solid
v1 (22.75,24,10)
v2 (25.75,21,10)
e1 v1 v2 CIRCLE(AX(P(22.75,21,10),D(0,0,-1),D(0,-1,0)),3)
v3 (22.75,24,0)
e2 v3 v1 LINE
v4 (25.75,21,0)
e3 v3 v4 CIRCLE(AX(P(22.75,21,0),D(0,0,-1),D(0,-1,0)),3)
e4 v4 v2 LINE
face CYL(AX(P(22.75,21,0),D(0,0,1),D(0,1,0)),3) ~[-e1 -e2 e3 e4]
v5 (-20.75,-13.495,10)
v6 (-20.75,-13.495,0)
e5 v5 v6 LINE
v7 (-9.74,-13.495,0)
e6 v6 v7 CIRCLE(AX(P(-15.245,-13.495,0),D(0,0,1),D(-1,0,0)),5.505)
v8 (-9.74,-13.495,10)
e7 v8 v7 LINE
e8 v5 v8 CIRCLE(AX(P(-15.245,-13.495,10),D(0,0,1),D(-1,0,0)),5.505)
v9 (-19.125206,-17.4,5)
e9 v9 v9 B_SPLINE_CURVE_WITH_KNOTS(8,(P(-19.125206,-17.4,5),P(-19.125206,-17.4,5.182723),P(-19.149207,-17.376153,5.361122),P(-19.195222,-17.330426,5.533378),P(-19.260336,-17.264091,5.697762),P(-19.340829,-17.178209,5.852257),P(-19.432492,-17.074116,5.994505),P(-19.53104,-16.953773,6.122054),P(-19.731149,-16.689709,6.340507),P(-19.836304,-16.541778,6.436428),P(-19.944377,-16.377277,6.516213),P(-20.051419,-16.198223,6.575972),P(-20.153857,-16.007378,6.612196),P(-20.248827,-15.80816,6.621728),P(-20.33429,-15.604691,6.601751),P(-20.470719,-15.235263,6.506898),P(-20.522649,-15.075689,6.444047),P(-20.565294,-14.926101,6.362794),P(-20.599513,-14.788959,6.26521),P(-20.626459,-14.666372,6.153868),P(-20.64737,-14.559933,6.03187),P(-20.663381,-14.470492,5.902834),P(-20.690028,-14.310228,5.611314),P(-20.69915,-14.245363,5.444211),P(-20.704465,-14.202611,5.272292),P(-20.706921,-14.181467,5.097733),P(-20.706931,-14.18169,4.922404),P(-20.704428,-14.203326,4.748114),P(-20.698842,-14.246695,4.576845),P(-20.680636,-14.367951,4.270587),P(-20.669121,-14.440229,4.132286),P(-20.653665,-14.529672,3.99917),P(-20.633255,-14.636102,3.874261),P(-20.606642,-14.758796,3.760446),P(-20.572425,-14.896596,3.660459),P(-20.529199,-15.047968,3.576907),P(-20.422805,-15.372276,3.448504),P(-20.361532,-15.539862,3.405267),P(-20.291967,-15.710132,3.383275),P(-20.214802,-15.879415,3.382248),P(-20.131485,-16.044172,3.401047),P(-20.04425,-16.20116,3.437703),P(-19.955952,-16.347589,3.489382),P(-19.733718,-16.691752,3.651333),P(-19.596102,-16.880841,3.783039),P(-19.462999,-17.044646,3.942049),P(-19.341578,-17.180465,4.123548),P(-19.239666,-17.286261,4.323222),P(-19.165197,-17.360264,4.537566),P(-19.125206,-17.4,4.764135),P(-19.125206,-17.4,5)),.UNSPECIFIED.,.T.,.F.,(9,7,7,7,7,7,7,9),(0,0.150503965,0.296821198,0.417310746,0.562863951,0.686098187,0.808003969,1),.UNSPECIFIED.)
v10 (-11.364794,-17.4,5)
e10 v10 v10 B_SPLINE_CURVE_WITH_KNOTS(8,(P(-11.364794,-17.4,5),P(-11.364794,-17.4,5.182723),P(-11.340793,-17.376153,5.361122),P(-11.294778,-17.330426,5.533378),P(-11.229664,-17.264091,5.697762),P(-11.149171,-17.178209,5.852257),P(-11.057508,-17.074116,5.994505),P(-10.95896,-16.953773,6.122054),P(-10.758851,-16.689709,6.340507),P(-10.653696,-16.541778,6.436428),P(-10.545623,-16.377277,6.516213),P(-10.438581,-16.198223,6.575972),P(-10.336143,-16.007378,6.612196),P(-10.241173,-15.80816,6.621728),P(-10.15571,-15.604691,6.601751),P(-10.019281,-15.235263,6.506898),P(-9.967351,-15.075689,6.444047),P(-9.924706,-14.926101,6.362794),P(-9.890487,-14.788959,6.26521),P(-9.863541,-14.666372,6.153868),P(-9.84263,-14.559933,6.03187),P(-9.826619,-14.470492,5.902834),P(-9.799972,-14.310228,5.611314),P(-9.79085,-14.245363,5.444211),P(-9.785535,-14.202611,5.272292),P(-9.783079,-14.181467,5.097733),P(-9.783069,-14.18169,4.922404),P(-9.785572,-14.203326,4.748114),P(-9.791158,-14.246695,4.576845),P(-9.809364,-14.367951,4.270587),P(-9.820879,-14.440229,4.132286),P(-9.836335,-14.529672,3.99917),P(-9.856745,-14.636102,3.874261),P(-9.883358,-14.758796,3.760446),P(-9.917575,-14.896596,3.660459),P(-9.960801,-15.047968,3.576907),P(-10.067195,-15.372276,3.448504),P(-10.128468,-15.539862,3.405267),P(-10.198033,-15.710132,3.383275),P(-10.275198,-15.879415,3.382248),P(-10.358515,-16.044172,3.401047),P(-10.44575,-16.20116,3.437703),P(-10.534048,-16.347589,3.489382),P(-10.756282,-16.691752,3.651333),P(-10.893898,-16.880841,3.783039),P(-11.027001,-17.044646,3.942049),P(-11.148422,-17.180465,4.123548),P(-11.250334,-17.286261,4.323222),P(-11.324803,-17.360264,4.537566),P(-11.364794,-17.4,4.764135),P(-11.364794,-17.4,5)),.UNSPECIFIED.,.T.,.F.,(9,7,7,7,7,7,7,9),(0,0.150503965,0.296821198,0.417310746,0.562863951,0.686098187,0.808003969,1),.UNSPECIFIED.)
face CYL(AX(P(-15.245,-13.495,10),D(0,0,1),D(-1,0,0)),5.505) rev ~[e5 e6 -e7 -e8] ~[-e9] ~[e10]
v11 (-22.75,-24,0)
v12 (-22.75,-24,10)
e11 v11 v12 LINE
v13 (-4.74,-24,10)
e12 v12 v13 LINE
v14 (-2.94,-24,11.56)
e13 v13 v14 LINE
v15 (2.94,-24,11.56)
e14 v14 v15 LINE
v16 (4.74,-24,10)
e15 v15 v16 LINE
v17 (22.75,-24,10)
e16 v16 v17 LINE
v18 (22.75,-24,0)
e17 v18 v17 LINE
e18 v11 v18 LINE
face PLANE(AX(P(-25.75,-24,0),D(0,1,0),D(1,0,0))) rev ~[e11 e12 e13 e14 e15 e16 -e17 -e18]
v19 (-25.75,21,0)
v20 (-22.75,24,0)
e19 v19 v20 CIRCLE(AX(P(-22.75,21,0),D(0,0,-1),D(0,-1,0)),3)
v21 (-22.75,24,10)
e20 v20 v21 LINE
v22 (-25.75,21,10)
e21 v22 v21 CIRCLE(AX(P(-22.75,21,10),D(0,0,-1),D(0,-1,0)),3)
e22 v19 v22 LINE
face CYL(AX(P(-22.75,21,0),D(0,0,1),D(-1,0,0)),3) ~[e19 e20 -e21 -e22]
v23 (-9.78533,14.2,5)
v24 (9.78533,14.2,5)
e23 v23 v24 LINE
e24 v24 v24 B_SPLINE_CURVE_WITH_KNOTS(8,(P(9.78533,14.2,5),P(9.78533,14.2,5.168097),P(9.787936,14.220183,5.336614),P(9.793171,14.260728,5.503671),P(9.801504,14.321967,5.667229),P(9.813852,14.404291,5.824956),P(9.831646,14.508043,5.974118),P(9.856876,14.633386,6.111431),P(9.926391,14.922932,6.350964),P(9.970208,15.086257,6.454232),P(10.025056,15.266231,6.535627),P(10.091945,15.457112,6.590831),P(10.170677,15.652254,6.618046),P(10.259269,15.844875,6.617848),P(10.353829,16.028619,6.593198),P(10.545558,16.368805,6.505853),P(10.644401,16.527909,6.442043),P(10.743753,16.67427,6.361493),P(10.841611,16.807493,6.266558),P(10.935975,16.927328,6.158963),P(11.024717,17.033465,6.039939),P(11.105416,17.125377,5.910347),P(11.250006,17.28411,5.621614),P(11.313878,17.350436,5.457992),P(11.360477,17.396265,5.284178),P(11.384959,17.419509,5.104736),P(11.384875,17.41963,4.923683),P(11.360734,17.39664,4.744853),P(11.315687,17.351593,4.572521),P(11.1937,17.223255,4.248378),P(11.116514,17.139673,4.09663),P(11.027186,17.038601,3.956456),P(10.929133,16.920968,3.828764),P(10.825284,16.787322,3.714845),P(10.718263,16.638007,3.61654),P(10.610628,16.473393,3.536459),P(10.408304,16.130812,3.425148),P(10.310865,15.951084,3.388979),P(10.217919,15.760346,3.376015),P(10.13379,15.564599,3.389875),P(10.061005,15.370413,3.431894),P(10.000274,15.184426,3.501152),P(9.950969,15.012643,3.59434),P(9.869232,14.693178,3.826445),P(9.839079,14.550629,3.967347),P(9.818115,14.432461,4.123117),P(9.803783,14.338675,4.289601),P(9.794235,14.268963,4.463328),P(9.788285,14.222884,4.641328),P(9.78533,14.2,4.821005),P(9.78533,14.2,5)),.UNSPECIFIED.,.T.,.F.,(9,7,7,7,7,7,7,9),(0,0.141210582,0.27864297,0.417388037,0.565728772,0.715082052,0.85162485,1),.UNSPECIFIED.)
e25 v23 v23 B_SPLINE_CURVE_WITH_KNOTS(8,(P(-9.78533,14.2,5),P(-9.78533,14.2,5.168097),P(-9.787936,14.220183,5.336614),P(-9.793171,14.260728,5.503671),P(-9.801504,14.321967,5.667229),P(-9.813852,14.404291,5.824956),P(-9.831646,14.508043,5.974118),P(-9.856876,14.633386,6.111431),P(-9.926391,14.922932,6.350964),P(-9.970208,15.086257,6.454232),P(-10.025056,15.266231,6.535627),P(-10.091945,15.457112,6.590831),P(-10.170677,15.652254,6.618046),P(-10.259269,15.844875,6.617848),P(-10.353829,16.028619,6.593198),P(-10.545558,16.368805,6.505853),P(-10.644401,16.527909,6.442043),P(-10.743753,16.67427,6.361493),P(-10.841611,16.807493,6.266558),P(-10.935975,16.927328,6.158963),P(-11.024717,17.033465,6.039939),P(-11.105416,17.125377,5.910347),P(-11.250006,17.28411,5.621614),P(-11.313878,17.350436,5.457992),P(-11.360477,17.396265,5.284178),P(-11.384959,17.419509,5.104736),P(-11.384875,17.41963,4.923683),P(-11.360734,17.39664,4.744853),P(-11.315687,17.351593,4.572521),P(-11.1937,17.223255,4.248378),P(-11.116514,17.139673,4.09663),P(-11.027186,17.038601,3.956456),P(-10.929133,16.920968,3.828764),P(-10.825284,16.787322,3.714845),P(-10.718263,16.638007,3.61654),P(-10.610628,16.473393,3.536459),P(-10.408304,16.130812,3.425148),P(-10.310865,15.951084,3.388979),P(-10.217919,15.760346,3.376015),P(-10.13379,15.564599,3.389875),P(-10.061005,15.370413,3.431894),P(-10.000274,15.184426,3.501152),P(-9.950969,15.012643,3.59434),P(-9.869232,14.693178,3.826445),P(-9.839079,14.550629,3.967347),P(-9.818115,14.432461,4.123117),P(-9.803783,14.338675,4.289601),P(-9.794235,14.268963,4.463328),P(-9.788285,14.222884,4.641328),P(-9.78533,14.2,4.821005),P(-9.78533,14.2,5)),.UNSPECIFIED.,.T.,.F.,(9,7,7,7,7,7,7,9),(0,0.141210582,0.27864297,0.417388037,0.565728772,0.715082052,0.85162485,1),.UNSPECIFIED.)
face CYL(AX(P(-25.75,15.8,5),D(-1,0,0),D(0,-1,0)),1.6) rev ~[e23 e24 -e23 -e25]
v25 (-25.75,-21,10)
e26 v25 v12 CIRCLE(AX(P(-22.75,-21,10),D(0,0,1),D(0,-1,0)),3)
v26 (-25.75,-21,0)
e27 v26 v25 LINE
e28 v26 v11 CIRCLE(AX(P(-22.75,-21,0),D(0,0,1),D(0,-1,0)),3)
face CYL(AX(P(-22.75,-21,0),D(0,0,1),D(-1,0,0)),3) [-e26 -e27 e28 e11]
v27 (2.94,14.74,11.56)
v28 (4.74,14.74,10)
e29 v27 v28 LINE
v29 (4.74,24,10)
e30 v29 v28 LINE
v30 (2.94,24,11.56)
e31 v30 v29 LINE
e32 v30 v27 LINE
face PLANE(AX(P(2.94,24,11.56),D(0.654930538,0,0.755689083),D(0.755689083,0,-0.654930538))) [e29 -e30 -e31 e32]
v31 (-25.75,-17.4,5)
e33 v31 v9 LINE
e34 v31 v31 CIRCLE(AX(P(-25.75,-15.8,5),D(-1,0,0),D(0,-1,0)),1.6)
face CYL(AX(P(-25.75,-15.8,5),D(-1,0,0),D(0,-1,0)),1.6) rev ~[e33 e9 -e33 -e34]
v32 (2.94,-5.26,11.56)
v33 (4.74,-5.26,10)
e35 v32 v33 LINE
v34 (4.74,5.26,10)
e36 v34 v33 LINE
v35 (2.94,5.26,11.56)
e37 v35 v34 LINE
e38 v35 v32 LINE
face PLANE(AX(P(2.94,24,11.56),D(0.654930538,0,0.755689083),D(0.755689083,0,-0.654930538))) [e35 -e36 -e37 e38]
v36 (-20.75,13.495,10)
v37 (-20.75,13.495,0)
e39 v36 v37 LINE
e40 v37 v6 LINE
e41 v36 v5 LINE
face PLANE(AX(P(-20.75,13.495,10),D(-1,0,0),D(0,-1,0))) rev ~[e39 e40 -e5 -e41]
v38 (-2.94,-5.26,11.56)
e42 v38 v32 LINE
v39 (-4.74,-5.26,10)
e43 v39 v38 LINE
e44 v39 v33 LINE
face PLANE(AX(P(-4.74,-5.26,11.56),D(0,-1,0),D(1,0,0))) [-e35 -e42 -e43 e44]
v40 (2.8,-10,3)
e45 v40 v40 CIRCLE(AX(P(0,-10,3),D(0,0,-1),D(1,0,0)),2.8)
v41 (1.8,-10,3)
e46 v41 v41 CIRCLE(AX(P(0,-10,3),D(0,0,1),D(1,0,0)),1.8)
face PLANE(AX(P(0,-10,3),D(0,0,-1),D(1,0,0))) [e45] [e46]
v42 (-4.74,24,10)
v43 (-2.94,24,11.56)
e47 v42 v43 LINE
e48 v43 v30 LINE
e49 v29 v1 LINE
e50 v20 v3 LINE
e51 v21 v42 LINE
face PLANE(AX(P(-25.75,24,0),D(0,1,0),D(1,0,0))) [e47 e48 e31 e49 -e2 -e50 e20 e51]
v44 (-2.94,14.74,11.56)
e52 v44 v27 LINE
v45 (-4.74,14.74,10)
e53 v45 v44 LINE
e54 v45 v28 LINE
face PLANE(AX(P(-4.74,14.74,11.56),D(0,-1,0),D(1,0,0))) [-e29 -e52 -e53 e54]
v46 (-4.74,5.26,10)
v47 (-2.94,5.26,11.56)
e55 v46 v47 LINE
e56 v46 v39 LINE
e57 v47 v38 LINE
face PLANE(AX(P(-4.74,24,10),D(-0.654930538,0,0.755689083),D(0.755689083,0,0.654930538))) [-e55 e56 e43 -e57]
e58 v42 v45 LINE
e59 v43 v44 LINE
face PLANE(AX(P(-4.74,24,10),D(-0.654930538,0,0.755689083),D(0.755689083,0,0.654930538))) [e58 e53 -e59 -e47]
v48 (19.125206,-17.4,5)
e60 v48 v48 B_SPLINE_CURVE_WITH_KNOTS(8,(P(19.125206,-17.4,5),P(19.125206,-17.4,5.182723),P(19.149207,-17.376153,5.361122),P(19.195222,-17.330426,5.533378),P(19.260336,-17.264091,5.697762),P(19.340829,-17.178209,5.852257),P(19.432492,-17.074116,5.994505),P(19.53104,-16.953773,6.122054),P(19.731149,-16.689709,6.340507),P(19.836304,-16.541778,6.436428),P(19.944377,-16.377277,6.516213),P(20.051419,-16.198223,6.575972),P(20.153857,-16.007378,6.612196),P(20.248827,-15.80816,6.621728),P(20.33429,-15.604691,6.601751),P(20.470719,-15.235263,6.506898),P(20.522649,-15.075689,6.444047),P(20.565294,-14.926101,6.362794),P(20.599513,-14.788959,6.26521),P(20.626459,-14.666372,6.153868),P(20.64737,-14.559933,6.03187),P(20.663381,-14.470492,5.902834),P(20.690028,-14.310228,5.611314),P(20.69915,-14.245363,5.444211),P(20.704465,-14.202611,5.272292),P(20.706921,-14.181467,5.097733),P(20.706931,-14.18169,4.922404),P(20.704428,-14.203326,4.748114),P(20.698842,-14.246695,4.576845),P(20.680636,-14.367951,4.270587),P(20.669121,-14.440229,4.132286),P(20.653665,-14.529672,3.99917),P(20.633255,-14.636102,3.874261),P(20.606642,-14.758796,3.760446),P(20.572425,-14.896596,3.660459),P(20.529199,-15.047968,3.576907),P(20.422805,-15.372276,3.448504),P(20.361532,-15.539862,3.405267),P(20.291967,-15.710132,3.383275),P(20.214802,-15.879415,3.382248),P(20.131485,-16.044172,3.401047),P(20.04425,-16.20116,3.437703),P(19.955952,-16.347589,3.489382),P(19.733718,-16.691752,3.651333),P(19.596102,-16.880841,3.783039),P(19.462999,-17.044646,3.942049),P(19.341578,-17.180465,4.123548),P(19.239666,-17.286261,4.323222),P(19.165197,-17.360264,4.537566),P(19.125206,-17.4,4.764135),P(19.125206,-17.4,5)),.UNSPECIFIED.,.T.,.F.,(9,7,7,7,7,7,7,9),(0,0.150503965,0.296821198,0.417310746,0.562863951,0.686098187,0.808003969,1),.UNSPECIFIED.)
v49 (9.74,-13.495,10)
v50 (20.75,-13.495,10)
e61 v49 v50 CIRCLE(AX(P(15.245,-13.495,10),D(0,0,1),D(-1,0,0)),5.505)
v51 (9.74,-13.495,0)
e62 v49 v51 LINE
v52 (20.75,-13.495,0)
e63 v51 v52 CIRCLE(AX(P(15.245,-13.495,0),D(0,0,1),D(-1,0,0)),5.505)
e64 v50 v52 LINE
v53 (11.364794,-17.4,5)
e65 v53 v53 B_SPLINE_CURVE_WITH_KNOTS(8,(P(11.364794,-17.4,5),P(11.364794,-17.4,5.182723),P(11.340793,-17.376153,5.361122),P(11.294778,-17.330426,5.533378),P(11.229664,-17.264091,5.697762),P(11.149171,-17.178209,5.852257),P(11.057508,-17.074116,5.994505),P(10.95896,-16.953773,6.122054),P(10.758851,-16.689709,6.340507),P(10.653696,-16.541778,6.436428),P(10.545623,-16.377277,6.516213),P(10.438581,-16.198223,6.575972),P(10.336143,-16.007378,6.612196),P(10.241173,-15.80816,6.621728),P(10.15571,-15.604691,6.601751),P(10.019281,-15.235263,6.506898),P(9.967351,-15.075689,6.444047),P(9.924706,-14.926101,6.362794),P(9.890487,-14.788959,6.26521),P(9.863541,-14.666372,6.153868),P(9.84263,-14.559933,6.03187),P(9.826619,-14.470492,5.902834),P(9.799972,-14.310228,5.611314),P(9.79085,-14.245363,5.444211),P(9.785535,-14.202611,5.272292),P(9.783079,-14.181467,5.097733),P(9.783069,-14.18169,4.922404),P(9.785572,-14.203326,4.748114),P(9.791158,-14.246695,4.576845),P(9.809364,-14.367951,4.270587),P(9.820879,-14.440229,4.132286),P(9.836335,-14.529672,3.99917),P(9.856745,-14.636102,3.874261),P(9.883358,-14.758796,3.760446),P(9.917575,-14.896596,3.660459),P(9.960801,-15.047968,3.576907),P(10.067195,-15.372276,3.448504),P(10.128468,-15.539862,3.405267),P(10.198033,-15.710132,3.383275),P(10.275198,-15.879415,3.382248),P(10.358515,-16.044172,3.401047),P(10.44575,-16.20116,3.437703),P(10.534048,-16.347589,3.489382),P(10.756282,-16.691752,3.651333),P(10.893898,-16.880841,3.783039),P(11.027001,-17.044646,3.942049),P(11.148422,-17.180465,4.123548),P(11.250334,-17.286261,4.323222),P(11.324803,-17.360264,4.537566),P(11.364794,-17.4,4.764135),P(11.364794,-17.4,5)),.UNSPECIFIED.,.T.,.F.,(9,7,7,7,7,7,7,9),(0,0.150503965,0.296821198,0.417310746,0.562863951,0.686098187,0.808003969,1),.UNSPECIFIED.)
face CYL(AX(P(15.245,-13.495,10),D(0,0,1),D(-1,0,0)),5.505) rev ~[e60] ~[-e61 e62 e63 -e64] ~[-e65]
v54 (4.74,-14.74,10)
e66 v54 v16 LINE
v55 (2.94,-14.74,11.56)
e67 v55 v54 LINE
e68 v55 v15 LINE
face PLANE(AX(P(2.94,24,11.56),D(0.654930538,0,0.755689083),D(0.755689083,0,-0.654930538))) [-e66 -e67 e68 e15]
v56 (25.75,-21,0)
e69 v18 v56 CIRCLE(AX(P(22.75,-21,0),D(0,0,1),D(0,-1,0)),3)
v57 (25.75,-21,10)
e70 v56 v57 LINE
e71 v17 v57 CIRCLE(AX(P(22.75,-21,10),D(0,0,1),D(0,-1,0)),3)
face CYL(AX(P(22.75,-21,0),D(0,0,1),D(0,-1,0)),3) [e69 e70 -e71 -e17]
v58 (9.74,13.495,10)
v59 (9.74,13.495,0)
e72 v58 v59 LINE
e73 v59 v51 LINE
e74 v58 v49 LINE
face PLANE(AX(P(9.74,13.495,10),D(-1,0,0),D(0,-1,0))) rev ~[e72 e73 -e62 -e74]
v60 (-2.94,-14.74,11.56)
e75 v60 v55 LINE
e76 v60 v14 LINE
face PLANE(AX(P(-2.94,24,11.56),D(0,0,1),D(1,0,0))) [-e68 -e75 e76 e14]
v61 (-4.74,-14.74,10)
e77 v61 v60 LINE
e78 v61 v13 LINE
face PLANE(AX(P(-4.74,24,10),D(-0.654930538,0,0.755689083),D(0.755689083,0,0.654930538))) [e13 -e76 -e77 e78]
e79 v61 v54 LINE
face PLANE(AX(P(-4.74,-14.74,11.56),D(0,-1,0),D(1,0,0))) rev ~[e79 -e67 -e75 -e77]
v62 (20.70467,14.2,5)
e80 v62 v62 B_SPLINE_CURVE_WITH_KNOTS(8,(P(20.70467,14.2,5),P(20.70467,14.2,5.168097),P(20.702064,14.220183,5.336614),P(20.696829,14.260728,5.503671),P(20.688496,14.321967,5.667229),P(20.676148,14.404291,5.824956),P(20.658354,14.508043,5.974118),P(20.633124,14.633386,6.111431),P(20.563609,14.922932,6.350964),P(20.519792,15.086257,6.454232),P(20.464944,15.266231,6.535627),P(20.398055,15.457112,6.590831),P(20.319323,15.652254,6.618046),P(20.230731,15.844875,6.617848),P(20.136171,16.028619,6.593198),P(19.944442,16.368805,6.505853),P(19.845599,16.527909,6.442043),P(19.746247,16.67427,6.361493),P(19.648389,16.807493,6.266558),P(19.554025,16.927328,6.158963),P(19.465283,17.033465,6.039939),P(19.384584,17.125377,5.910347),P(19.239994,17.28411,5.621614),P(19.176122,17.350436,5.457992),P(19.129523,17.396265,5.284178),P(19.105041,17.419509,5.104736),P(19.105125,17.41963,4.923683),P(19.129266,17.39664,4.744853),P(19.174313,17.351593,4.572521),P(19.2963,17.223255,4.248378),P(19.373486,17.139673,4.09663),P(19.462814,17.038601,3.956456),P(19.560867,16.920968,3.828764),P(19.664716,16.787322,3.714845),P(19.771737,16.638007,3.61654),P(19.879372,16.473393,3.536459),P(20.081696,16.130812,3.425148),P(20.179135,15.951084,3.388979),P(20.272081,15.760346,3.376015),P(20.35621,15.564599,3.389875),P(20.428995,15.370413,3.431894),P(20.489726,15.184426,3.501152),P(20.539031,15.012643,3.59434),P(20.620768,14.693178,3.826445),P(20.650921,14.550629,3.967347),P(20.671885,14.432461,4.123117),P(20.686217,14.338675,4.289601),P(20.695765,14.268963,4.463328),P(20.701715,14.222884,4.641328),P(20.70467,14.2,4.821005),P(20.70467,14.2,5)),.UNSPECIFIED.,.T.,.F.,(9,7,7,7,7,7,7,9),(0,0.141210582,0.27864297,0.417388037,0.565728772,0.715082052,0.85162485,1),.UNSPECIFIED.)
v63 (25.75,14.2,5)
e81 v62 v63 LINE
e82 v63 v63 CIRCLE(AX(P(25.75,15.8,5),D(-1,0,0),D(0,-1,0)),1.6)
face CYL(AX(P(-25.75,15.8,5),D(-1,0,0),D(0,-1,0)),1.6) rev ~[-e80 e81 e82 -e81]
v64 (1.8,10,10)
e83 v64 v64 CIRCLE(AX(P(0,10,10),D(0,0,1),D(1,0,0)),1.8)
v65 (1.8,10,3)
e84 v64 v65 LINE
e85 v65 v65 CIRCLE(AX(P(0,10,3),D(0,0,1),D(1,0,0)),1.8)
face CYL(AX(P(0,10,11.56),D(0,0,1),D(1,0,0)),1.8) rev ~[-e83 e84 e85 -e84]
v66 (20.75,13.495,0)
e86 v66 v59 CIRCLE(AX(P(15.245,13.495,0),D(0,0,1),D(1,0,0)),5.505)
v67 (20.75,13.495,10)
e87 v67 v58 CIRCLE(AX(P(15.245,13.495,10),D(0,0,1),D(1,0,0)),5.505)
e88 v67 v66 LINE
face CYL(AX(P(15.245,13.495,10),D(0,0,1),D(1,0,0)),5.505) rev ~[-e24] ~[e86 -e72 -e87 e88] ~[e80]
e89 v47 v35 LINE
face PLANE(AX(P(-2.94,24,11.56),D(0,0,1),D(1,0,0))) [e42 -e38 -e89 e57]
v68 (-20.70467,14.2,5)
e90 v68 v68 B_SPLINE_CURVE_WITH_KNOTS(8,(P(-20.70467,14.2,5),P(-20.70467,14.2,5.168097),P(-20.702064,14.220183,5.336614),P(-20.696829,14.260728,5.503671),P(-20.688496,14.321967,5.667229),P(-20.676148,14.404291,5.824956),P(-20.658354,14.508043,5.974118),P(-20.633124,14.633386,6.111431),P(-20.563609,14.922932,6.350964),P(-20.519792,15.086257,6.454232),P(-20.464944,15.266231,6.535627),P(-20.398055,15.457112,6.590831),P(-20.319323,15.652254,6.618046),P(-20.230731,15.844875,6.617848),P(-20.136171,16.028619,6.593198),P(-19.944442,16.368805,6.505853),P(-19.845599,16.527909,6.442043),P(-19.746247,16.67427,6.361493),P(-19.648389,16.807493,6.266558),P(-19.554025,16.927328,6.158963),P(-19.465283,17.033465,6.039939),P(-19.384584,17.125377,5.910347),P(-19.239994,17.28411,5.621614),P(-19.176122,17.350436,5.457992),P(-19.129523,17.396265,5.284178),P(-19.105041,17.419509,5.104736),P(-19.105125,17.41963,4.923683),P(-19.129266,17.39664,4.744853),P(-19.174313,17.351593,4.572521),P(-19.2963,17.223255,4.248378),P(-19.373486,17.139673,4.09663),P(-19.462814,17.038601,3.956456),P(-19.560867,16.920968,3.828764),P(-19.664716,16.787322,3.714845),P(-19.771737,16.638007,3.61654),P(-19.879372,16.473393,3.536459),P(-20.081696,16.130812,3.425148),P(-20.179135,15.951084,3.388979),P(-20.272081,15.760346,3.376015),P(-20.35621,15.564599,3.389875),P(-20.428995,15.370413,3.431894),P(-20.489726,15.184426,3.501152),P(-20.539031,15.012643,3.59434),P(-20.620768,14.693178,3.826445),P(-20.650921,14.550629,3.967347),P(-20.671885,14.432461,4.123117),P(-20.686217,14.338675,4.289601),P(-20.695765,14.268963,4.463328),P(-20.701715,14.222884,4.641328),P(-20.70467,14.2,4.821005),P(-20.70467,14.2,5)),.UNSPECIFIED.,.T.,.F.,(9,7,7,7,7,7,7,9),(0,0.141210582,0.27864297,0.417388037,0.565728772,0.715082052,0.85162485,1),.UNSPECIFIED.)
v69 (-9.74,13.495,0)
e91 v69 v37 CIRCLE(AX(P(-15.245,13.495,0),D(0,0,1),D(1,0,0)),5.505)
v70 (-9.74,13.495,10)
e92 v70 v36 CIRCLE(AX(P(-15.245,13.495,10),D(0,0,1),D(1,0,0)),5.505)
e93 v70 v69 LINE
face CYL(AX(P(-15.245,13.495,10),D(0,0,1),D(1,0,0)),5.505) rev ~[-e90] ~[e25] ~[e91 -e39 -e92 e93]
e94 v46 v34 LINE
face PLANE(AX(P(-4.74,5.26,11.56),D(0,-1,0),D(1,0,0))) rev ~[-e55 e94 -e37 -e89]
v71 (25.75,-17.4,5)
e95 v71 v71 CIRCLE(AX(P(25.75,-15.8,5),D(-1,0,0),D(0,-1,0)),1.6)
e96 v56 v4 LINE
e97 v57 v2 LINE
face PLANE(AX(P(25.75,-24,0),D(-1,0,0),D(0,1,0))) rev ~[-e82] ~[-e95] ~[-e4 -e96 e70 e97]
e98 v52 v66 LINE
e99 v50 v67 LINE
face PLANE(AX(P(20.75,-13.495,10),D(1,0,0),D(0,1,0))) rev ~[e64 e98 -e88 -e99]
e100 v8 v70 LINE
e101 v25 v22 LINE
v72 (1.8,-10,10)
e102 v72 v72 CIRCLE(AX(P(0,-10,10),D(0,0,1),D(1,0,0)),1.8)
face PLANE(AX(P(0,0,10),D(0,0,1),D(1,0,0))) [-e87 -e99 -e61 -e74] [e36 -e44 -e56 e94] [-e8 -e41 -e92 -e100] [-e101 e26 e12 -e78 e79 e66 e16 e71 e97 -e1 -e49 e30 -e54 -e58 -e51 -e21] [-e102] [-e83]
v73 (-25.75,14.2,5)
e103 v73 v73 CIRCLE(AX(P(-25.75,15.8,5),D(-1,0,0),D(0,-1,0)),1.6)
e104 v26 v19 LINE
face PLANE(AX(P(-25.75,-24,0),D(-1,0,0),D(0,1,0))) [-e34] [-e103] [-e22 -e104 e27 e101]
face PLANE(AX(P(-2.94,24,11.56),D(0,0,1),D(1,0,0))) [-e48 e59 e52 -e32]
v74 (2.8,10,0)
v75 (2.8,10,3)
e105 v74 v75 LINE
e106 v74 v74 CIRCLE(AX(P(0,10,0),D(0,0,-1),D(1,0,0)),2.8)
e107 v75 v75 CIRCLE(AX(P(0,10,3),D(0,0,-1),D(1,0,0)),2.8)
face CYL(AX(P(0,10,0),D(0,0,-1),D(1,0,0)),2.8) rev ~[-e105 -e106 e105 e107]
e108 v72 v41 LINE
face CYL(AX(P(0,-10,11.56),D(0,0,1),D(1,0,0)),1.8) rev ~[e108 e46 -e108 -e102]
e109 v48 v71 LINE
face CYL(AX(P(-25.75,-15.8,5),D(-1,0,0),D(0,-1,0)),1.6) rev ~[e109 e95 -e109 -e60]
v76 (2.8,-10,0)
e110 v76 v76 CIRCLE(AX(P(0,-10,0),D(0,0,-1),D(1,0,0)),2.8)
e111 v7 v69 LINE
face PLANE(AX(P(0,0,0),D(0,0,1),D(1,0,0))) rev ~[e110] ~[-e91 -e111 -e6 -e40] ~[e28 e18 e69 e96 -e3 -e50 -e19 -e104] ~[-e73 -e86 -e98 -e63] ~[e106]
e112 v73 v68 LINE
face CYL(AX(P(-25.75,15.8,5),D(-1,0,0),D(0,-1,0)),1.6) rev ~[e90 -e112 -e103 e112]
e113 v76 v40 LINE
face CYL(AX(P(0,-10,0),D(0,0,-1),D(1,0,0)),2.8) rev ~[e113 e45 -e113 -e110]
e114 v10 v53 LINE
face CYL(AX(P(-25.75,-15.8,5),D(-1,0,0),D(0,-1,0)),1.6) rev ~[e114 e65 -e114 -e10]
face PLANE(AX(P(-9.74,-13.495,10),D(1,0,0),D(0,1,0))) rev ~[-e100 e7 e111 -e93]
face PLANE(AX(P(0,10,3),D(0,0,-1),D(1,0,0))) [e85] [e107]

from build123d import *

# Parameters (mm, degrees)
SKETCH_W        = 51.5
SKETCH_H        = 48
PAD_DEPTH       = 10
SKETCH001_R     = 1.6
POCKET_DEPTH    = 51.501
FILLET_R        = 3
PAD001_DEPTH    = 48
SKETCH003_R     = 1.8
POCKET001_DEPTH = 11.561
SKETCH004_R     = 2.8
POCKET002_DEPTH = 3
SKETCH005_W     = 9.48
SKETCH005_H     = 9.48
POCKET003_DEPTH = 1.56
POCKET004_DEPTH = 10.001


with BuildPart() as part:
    # Sketch → Pad (new body)
    with BuildSketch(Plane.XY):
        Rectangle(SKETCH_W, SKETCH_H)
    extrude(amount=PAD_DEPTH)

    # Sketch001 (on Face4 of Pad) → Pocket (cut, through all)
    with BuildSketch(Plane(origin=(-25.75, 0, 0), x_dir=(0, -1, 0), z_dir=(-1, 0, 0))):
        with Locations((-15.8, 5)):
            Circle(SKETCH001_R)
        with Locations((15.8, 5)):
            Circle(SKETCH001_R)
    extrude(amount=-POCKET_DEPTH, mode=Mode.SUBTRACT)

    # Fillet
    fillet_edges = [part.edges().sort_by_distance(p)[0] for p in [
        (25.75, -24, 5),
        (25.75, 24, 5),
        (-25.75, 24, 5),
        (-25.75, -24, 5),
    ]]
    fillet(fillet_edges, radius=FILLET_R)

    # Sketch002 (on Face1 of Fillet) → Pad001 (join)
    with BuildSketch(Plane(origin=(0, 24, 0), x_dir=(-1, 0, 0), z_dir=(0, 1, 0))):
        Polygon((2.94, 11.56), (-2.94, 11.56), (-4.74, 10), (4.74, 10), align=None)
    extrude(amount=-PAD001_DEPTH)

    # Sketch003 (on Face14 of Pad001) → Pocket001 (cut, through all)
    with BuildSketch(Plane.XY.offset(11.56)):
        with Locations((0, 10)):
            Circle(SKETCH003_R)
        with Locations((0, -10)):
            Circle(SKETCH003_R)
    extrude(amount=-POCKET001_DEPTH, mode=Mode.SUBTRACT)

    # Sketch004 (on Face2 of Pocket001) → Pocket002 (cut)
    with BuildSketch(Plane(origin=(0, 0, 0), x_dir=(1, 0, 0), z_dir=(0, 0, -1))):
        with Locations((0, 10)):
            Circle(SKETCH004_R)
        with Locations((0, -10)):
            Circle(SKETCH004_R)
    extrude(amount=-POCKET002_DEPTH, mode=Mode.SUBTRACT)

    # Sketch005 (on Face16 of Pocket002) → Pocket003 (cut)
    with BuildSketch(Plane.XY.offset(11.56)):
        with Locations((0, 10)):
            Rectangle(SKETCH005_W, SKETCH005_H)
        with Locations((0, -10)):
            Rectangle(SKETCH005_W, SKETCH005_H)
    extrude(amount=-POCKET003_DEPTH, mode=Mode.SUBTRACT)

    # Sketch006 (on Face5 of Pocket003) → Pocket004 (cut, through all)
    with BuildSketch(Plane.XY.offset(10)):
        with BuildLine():
            ThreePointArc((-9.74, 13.495), (-15.245, 19), (-20.75, 13.495))
            Line((-20.75, 13.495), (-20.75, -13.495))
            ThreePointArc((-20.75, -13.495), (-15.245, -19), (-9.74, -13.495))
            Line((-9.74, -13.495), (-9.74, 13.495))
        make_face()
        with BuildLine():
            ThreePointArc((20.75, 13.495), (15.245, 19), (9.74, 13.495))
            Line((9.74, 13.495), (9.74, -13.495))
            ThreePointArc((9.74, -13.495), (15.245, -19), (20.75, -13.495))
            Line((20.75, -13.495), (20.75, 13.495))
        make_face()
    extrude(amount=-POCKET004_DEPTH, mode=Mode.SUBTRACT)


solid = part.part
